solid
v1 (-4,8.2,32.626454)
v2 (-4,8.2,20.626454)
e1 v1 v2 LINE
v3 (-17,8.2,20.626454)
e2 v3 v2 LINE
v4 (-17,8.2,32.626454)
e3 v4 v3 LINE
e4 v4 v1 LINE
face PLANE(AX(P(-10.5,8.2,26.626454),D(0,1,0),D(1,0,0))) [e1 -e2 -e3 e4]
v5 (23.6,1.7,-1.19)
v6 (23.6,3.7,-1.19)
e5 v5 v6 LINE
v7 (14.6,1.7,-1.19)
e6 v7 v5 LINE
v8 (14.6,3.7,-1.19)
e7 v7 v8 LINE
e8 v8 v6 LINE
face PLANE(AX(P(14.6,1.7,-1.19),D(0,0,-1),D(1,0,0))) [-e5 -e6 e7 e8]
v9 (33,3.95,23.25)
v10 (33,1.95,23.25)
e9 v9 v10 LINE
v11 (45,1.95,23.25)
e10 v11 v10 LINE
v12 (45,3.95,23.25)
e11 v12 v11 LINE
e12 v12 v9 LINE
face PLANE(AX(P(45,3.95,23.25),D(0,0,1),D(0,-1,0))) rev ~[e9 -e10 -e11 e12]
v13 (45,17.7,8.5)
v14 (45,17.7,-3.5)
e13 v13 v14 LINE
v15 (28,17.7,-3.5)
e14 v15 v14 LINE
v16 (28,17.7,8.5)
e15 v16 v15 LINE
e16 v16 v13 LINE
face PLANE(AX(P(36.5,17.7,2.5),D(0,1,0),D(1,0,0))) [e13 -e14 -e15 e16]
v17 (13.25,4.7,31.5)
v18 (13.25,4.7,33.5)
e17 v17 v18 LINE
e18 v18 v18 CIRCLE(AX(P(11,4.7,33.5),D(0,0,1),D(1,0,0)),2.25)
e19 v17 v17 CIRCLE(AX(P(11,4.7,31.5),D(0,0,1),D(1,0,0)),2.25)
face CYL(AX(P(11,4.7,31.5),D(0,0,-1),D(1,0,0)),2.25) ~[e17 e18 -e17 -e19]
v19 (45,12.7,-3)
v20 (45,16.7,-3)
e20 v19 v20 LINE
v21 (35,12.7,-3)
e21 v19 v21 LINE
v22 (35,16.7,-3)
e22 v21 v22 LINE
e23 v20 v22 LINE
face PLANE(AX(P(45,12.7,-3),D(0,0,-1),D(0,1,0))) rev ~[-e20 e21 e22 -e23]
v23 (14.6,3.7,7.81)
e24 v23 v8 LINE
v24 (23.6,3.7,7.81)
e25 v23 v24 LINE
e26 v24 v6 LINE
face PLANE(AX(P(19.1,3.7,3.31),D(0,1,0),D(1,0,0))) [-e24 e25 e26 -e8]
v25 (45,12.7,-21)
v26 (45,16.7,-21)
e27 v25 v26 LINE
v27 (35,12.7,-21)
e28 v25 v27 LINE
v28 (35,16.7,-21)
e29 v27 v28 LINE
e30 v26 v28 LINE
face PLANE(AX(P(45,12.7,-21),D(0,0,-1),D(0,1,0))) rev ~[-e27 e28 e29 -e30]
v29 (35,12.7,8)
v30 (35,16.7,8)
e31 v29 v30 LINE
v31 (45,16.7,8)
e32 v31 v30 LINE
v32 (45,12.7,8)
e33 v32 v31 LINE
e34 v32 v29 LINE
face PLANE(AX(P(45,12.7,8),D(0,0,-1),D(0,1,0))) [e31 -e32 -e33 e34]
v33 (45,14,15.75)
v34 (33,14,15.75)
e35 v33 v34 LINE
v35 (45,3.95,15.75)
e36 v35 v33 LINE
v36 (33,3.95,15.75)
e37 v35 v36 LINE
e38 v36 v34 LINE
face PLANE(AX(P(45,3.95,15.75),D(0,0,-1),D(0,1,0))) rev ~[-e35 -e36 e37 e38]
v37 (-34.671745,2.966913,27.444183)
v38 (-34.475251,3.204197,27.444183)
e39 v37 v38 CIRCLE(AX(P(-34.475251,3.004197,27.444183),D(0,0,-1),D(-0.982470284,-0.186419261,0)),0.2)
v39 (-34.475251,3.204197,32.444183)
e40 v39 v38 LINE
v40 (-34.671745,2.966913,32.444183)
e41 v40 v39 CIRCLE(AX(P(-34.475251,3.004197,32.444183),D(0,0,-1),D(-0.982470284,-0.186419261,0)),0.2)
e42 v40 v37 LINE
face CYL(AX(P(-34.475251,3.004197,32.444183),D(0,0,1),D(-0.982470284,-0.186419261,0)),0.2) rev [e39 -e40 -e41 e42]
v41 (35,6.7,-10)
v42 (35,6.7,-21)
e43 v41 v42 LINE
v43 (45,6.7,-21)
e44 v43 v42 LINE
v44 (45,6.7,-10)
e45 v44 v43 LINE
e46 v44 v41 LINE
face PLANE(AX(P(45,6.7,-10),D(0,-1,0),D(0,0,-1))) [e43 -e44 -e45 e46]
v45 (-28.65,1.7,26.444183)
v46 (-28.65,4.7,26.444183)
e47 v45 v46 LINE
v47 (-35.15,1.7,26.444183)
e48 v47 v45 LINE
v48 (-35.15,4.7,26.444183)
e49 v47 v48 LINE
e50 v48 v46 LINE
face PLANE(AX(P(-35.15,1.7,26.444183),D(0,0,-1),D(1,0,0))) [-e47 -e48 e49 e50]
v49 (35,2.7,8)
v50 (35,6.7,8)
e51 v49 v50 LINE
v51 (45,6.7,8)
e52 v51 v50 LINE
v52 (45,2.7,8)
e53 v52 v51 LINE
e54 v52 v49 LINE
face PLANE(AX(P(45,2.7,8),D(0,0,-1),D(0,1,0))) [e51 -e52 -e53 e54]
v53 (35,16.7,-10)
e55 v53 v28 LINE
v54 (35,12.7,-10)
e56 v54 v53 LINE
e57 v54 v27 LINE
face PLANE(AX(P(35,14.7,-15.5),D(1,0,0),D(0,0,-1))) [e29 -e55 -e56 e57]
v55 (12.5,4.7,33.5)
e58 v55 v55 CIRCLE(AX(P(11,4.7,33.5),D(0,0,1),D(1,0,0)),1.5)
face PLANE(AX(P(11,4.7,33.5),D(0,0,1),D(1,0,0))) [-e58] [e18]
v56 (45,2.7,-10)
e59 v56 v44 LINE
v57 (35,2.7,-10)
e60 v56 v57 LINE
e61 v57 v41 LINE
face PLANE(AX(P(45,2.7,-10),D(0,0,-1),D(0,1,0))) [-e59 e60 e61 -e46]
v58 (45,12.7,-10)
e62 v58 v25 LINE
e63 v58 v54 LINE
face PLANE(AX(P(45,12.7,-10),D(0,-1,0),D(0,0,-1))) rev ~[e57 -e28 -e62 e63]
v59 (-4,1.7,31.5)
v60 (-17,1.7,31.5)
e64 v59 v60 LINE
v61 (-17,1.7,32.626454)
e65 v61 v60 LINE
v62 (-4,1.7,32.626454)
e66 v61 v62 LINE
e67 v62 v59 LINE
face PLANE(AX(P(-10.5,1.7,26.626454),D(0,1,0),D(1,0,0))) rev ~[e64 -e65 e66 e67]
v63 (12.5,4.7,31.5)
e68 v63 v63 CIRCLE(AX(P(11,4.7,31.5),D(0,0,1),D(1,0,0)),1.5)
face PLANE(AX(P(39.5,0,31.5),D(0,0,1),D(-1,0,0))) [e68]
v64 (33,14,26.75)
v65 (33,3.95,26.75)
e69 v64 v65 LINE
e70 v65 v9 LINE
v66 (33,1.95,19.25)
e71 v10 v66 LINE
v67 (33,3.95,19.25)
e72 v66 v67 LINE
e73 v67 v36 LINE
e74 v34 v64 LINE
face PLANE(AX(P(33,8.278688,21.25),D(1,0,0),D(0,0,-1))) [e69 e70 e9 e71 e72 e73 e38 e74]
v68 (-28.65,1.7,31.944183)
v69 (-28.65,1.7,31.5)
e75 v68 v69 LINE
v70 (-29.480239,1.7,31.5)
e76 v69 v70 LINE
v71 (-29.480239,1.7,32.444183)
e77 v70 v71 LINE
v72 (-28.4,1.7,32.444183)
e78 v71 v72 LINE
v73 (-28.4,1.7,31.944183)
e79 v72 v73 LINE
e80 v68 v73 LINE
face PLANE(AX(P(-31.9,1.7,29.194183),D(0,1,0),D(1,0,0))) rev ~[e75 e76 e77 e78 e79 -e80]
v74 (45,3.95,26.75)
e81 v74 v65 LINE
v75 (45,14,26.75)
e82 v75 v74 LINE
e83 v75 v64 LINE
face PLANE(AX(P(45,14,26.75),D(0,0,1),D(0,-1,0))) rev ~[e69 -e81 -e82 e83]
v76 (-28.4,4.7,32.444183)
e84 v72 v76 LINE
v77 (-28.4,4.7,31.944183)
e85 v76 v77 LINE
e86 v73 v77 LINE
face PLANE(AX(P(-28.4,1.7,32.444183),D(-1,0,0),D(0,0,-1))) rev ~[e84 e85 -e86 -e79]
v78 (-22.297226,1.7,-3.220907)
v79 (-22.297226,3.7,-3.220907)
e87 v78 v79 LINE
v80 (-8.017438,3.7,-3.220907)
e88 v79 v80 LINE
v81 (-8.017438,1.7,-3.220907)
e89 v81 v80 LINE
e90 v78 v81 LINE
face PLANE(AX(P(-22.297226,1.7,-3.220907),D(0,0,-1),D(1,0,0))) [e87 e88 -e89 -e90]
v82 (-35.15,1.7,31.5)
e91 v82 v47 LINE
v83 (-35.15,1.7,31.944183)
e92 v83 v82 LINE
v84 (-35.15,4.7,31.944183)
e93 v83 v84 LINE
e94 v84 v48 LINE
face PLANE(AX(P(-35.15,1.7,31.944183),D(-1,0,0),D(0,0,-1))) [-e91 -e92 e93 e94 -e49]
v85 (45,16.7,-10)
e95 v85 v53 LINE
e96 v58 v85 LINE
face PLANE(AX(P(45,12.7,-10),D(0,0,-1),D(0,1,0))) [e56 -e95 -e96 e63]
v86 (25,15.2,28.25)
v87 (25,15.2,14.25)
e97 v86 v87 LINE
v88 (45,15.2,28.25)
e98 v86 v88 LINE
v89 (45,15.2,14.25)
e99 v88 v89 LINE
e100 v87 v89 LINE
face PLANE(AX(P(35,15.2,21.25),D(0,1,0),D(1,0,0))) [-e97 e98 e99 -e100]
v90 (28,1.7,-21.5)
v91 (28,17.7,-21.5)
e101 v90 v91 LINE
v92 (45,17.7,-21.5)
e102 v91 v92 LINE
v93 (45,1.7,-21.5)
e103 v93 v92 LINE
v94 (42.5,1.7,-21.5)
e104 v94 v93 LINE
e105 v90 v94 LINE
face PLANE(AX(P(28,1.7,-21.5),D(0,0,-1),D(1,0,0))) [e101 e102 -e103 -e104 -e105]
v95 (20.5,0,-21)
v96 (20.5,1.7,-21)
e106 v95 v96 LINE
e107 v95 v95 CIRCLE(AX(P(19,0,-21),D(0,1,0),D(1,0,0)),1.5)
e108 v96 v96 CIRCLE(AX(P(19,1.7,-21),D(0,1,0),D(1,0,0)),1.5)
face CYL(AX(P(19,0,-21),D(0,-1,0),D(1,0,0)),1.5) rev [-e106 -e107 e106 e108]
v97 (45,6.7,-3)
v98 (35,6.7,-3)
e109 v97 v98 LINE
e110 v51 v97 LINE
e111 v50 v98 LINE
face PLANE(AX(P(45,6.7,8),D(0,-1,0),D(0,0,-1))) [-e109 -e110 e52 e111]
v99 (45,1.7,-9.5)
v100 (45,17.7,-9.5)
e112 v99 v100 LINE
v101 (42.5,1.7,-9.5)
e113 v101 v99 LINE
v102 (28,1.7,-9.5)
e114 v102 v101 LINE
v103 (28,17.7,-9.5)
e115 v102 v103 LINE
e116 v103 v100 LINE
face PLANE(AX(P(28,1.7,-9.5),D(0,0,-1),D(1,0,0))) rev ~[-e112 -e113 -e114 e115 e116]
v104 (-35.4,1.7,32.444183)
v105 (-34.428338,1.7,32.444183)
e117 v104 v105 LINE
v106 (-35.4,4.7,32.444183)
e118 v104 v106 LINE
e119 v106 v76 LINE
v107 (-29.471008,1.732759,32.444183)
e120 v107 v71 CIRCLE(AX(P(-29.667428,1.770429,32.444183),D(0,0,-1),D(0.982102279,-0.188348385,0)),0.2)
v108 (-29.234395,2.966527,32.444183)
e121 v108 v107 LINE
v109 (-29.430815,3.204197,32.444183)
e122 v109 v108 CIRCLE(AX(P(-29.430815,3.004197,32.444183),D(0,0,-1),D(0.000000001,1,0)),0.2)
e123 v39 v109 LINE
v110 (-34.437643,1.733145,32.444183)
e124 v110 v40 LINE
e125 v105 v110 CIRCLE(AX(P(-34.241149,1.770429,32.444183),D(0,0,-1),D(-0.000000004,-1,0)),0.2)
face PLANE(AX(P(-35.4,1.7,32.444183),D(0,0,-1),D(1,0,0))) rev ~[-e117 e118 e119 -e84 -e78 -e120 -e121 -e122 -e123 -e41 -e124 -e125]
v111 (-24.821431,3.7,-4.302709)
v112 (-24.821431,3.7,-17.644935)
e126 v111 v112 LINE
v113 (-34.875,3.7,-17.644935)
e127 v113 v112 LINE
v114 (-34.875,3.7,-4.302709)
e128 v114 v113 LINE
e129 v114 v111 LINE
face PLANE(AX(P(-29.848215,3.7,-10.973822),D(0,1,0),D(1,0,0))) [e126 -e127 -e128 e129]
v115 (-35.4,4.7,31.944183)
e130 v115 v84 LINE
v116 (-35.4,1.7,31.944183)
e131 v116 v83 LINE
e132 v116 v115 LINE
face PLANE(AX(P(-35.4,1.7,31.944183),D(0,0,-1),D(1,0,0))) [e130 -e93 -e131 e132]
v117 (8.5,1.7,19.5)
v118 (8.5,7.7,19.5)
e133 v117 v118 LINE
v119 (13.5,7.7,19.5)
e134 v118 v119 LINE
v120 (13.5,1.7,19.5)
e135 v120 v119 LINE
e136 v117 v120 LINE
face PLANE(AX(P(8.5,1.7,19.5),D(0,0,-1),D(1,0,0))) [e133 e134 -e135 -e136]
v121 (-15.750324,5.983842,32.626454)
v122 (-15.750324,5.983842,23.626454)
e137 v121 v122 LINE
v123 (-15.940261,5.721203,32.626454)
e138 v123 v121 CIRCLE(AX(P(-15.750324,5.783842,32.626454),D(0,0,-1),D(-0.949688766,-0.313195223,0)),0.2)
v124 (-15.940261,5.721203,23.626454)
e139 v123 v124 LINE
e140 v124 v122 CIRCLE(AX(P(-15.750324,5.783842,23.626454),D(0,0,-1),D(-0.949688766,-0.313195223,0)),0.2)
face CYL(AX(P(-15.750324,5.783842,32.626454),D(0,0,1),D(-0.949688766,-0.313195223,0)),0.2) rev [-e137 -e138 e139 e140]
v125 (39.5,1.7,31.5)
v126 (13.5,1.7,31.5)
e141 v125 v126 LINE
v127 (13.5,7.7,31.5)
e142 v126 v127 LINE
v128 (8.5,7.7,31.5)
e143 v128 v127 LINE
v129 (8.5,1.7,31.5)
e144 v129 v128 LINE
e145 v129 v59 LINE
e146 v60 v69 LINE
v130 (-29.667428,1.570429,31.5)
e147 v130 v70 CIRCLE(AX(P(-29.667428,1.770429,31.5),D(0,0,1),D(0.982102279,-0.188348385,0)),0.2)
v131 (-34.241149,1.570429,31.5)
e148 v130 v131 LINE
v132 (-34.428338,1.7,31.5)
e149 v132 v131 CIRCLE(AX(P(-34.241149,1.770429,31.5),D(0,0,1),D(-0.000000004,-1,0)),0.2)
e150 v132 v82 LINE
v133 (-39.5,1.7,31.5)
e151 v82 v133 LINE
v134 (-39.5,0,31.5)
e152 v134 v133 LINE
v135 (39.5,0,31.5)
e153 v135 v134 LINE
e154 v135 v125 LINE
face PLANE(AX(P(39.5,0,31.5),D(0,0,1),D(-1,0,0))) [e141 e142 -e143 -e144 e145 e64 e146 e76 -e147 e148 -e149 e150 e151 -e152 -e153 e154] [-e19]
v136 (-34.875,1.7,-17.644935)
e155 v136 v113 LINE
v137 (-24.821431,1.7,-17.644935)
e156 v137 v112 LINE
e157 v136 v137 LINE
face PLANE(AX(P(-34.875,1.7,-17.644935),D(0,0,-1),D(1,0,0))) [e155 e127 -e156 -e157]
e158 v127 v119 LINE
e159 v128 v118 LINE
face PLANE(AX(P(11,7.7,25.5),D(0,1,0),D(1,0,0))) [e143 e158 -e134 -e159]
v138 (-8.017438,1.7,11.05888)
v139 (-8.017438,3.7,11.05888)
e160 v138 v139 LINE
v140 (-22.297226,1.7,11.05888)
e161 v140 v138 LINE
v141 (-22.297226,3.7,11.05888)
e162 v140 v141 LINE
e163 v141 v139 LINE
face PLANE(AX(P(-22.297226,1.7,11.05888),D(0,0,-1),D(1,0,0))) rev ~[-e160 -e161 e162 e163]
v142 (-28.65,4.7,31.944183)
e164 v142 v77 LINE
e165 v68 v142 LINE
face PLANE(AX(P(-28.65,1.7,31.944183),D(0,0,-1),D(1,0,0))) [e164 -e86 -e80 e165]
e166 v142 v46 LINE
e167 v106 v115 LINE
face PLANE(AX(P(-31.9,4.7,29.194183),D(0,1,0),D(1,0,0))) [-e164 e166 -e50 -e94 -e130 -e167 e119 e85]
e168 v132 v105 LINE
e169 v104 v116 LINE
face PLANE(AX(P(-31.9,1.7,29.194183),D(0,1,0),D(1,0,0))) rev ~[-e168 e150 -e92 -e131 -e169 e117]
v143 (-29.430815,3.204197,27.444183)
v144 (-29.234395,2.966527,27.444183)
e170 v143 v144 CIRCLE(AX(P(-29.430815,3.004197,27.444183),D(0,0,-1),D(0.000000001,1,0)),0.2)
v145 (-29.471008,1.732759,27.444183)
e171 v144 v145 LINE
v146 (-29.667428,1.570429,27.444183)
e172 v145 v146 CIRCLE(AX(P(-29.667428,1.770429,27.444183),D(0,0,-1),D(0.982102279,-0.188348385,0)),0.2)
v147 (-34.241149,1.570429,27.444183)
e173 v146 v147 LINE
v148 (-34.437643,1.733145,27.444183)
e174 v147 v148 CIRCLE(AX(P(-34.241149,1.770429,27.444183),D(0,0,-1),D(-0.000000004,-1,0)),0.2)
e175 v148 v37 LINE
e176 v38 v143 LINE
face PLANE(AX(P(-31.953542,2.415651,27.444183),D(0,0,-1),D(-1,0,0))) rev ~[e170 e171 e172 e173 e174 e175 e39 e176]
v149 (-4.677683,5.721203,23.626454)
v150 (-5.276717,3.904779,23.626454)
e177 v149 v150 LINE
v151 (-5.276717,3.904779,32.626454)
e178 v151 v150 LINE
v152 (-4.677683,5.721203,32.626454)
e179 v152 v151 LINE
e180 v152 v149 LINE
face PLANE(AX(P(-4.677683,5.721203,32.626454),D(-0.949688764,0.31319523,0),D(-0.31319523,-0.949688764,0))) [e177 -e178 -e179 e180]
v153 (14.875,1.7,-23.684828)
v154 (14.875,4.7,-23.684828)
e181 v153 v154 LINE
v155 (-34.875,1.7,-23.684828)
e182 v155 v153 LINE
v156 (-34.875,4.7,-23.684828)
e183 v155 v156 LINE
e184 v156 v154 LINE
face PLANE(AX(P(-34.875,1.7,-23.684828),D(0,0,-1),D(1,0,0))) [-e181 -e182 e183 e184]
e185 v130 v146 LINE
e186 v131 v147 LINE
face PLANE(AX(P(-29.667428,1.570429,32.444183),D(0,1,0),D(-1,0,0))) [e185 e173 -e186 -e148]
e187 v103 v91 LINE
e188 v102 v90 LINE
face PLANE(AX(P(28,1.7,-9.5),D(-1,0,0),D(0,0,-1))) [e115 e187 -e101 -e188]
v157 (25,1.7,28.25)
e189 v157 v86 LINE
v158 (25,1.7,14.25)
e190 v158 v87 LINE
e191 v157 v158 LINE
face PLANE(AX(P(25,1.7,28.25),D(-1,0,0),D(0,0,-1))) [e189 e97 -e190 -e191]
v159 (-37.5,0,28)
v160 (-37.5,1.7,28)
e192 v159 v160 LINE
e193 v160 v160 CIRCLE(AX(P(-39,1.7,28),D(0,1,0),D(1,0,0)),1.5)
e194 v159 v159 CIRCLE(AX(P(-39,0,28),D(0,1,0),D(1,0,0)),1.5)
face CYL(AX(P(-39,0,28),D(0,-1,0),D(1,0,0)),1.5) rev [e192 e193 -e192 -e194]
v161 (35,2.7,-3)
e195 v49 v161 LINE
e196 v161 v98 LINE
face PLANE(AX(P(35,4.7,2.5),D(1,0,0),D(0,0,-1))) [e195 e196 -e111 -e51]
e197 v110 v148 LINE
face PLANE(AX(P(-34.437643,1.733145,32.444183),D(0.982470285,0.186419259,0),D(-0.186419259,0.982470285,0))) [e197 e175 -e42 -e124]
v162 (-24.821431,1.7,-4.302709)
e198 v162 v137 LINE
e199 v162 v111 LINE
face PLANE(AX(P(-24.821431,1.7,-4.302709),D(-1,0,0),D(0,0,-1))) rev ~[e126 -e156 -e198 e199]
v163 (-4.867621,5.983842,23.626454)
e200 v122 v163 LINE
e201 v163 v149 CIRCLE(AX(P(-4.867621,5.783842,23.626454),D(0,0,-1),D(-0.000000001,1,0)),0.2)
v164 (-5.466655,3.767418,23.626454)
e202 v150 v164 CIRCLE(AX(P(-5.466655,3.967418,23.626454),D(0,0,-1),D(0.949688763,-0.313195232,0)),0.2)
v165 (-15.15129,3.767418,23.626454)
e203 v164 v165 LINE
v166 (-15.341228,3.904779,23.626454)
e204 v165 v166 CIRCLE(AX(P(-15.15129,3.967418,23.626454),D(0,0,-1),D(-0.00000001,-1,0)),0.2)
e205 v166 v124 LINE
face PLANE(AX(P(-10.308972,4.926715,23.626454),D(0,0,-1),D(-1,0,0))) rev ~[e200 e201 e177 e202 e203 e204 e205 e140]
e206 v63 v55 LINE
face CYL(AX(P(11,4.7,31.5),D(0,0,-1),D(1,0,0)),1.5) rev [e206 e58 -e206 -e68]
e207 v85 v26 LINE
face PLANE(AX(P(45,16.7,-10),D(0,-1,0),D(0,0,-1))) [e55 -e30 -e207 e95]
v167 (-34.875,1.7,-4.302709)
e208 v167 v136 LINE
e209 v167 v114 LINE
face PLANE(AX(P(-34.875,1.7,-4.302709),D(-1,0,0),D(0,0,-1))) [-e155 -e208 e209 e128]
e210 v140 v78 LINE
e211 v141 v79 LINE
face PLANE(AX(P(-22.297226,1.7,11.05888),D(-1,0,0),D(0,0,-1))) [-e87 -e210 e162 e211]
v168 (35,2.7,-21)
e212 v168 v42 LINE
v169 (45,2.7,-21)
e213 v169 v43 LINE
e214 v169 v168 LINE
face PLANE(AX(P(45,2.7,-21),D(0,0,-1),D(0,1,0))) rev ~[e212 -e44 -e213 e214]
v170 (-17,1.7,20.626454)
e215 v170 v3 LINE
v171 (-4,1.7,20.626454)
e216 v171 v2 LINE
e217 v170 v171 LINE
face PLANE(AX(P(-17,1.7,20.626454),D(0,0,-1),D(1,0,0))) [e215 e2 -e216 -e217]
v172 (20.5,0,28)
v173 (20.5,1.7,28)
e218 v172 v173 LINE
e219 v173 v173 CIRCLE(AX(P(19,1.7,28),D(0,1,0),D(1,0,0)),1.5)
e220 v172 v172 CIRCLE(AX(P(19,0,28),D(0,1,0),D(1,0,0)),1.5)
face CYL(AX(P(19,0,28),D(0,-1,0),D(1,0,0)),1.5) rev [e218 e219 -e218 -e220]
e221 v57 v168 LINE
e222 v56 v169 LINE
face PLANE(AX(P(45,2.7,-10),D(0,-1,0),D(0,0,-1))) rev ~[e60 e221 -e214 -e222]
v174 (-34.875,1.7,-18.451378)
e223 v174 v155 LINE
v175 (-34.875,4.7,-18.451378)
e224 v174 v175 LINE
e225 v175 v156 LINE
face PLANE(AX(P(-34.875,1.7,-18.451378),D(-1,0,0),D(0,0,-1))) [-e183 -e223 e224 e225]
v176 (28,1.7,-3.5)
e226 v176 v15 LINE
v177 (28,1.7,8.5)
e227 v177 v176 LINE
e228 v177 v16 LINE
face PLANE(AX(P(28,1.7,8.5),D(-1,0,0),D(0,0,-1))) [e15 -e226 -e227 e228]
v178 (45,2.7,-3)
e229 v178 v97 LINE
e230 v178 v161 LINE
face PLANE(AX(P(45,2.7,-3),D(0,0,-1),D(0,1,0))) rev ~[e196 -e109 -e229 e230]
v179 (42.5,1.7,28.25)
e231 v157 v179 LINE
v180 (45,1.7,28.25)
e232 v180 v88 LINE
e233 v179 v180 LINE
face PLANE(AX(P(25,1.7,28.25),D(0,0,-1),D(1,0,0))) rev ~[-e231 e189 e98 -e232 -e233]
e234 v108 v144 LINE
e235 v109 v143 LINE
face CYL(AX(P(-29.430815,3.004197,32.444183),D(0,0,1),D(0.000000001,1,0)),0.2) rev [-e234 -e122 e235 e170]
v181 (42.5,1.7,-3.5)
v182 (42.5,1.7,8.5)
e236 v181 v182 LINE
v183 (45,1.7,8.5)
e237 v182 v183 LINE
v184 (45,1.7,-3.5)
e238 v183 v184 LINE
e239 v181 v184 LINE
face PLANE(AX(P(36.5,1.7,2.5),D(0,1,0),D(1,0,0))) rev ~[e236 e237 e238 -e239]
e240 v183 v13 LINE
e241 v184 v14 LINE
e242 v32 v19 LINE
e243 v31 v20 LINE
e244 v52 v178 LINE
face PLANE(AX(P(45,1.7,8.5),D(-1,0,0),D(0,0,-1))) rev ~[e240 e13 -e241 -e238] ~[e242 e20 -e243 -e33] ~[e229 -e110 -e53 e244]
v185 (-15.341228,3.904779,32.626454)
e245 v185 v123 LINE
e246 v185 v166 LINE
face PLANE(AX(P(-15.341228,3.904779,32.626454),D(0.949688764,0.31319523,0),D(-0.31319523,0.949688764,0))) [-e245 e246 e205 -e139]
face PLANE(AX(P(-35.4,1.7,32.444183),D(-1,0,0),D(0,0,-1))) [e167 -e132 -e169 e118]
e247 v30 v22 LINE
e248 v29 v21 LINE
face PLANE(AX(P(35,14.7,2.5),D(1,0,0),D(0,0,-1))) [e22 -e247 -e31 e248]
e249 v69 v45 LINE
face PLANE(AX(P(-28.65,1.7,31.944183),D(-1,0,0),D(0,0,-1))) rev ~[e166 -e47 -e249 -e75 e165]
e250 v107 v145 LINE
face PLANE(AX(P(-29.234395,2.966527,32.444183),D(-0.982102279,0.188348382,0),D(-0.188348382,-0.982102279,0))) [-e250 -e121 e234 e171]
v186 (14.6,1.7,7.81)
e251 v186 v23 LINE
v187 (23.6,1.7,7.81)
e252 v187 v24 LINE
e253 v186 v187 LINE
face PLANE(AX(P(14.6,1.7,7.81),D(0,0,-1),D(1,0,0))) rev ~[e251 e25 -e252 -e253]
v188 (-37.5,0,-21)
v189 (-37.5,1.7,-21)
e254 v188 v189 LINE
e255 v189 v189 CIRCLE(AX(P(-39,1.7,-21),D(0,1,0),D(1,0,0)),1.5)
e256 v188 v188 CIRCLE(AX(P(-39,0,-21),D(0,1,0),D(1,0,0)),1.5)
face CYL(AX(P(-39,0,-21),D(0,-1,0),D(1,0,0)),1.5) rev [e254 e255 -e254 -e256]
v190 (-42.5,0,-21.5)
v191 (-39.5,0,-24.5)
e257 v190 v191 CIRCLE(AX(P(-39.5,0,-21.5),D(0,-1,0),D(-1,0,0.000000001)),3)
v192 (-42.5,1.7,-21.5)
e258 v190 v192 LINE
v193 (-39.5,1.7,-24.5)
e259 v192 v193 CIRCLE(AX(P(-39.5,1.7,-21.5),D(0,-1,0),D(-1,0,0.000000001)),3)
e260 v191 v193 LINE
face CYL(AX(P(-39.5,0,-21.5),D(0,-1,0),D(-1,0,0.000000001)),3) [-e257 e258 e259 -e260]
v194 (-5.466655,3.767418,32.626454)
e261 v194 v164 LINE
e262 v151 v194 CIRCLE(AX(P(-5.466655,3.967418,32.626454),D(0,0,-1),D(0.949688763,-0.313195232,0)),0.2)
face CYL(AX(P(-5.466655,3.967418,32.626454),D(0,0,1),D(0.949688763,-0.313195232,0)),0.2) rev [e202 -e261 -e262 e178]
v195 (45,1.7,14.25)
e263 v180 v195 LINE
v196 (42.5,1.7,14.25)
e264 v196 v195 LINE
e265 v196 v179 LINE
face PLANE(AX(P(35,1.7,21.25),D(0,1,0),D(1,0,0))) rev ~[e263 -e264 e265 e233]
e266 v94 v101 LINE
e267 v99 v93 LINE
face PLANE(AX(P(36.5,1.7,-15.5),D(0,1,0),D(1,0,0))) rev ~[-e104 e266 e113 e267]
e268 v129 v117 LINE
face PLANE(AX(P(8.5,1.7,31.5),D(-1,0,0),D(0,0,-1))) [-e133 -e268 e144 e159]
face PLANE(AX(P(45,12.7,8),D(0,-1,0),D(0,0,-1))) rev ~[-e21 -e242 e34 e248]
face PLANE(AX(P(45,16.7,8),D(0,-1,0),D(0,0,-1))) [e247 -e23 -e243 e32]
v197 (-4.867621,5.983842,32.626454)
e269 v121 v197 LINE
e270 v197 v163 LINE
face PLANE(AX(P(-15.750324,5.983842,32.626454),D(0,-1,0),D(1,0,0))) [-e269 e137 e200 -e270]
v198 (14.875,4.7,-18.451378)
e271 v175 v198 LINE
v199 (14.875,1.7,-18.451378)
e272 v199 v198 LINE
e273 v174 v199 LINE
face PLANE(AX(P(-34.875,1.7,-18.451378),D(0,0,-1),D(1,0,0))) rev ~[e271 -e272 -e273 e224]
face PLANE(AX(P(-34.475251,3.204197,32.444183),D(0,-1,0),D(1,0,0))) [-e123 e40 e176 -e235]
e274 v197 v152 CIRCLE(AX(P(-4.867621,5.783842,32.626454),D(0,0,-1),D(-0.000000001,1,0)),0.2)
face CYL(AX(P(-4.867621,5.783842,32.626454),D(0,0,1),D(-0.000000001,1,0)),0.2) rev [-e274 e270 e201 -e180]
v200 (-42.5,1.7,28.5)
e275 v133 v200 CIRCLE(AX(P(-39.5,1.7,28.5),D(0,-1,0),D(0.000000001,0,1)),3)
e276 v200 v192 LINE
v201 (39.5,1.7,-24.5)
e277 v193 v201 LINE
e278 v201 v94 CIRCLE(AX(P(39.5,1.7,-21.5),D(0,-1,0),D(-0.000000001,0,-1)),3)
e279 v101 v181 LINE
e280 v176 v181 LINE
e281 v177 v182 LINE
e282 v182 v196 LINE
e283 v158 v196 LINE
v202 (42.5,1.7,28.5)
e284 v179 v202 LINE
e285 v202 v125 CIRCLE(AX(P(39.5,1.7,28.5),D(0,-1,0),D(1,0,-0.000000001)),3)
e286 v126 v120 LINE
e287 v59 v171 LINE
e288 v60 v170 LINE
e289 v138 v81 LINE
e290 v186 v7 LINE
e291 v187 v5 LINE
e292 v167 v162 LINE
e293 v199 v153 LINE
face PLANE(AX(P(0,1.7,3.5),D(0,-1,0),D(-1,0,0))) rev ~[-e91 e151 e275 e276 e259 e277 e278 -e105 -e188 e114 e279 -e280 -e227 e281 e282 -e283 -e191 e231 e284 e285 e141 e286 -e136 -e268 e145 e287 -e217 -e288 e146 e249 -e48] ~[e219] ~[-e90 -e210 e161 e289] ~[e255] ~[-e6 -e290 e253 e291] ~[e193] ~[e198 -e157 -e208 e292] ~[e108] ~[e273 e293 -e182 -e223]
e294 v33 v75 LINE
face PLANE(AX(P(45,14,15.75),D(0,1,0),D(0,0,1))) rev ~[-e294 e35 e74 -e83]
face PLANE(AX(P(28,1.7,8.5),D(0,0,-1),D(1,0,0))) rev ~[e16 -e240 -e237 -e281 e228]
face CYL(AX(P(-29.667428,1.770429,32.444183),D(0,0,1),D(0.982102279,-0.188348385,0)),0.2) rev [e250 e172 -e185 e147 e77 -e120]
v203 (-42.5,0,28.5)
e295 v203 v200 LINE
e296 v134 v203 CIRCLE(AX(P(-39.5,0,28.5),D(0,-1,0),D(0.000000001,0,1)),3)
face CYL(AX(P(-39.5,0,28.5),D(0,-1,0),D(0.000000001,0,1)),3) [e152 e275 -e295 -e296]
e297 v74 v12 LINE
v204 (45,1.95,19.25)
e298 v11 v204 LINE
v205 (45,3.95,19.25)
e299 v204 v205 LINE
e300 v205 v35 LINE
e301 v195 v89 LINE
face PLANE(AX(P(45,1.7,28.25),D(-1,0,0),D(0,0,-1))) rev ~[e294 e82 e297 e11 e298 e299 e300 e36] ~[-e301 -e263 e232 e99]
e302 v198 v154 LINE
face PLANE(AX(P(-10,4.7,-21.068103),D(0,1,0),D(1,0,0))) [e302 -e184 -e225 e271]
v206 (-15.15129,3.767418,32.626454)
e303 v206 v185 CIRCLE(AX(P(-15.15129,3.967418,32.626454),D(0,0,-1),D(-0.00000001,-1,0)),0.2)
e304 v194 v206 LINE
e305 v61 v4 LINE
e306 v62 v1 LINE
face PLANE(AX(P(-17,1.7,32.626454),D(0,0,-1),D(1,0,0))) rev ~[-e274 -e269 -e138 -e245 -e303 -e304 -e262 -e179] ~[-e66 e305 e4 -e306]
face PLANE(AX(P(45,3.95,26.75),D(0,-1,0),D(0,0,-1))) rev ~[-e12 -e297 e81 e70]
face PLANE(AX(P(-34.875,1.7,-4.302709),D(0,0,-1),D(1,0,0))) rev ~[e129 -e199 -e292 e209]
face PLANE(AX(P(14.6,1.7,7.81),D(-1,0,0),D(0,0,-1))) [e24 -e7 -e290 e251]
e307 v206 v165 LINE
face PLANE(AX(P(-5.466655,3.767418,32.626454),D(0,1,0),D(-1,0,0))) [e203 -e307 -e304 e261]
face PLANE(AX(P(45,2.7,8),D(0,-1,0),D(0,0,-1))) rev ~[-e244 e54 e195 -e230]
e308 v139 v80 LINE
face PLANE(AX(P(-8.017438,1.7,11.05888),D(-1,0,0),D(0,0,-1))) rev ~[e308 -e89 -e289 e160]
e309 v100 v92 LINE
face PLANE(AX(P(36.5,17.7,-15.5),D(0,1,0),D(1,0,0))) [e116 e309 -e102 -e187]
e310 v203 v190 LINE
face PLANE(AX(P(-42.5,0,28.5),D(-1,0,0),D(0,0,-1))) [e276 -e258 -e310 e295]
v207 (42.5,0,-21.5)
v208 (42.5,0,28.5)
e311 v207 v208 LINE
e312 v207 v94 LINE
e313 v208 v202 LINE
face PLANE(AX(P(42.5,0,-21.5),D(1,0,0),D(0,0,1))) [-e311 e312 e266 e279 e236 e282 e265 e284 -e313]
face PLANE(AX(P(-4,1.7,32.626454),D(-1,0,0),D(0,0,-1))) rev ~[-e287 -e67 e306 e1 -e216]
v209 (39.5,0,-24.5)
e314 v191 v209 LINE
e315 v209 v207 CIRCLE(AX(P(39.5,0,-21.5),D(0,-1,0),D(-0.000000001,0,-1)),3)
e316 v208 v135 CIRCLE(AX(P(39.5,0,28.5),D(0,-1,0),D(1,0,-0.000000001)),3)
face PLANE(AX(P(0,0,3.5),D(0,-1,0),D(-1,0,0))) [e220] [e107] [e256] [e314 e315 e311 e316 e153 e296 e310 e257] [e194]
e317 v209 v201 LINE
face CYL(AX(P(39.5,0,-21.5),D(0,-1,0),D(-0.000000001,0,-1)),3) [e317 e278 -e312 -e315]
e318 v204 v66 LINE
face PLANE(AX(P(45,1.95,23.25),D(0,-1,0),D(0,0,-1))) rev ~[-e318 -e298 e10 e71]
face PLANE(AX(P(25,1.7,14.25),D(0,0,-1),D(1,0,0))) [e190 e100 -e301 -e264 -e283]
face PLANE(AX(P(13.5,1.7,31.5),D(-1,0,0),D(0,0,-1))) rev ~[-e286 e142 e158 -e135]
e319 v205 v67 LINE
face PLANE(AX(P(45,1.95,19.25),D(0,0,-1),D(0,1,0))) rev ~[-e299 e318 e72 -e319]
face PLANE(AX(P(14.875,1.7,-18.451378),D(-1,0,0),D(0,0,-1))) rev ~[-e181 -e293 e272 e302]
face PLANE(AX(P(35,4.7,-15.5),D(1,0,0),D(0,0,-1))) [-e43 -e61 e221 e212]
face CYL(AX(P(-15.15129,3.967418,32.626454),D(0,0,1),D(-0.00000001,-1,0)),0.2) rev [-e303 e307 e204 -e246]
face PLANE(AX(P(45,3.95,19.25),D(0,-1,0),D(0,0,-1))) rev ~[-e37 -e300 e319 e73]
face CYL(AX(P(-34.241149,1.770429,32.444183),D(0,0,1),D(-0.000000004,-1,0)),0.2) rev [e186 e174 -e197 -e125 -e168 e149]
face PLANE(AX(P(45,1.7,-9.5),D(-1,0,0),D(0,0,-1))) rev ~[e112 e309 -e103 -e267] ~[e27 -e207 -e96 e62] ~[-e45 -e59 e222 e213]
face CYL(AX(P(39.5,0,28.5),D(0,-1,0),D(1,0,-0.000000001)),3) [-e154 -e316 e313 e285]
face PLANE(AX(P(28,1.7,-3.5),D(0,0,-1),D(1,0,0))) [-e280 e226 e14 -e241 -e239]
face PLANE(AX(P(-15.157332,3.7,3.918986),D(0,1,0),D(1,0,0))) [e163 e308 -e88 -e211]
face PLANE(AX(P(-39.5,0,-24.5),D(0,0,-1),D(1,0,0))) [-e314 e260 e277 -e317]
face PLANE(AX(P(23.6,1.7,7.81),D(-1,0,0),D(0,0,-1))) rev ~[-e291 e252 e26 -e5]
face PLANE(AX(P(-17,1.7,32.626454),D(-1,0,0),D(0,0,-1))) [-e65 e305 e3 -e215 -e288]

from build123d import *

# Parameters (mm, degrees)
SKETCH1_R            = 3
SKETCH1_R_2          = 1.5
BOSS_EXTRUDE1_DEPTH  = 1.7
SKETCH4_W            = 49.75
SKETCH4_H            = 5.233449475
BOSS_EXTRUDE4_DEPTH  = 3
SKETCH7_W            = 6.5
SKETCH7_H            = 5.5
SKETCH7_W_2          = 7
SKETCH7_H_2          = 0.5
BOSS_EXTRUDE7_DEPTH  = 3
SKETCH8_W            = 13
SKETCH8_H            = 12
BOSS_EXTRUDE8_DEPTH  = 6.5
SKETCH9_W            = 5
SKETCH9_H            = 12
BOSS_EXTRUDE9_DEPTH  = 6
SKETCH10_W           = 20
SKETCH10_H           = 14
BOSS_EXTRUDE10_DEPTH = 13.5
SKETCH11_W           = 17
SKETCH11_H           = 12
BOSS_EXTRUDE11_DEPTH = 16
SKETCH12_W           = 10.053569384
SKETCH12_H           = 13.342225903
SKETCH12_W_2         = 14.279787724
SKETCH12_H_2         = 14.279787724
SKETCH12_W_3         = 9
SKETCH12_H_3         = 9
BOSS_EXTRUDE12_DEPTH = 2
SKETCH13_R           = 2.25
SKETCH13_R_2         = 1.5
BOSS_EXTRUDE13_DEPTH = 2
CUT_EXTRUDE1_DEPTH   = 9
CUT_EXTRUDE2_DEPTH   = 5
SKETCH16_W           = 11
SKETCH16_H           = 4
CUT_EXTRUDE3_DEPTH   = 10
SKETCH17_W           = 11
SKETCH17_H           = 4
CUT_EXTRUDE4_DEPTH   = 10
CUT_EXTRUDE5_DEPTH   = 12


with BuildPart() as part:
    # Sketch1 → Boss-Extrude1 (new body)
    with BuildSketch(Plane(origin=(0, 0, 0), x_dir=(1, 0, 0), z_dir=(0, 1, 0))):
        with BuildLine():
            ThreePointArc((39.5, 24.5), (41.621320344, 23.621320344), (42.5, 21.5))
            Line((42.5, 21.5), (42.5, -28.5))
            ThreePointArc((42.5, -28.5), (41.621320344, -30.621320344), (39.5, -31.5))
            Line((39.5, -31.5), (-39.5, -31.5))
            ThreePointArc((-39.5, -31.5), (-41.621320344, -30.621320344), (-42.5, -28.5))
            Line((-42.5, -28.5), (-42.5, 21.5))
            ThreePointArc((-42.5, 21.5), (-41.621320344, 23.621320344), (-39.5, 24.5))
            Line((-39.5, 24.5), (39.5, 24.5))
        make_face()
        with Locations((19, -28)):
            Circle(SKETCH1_R, mode=Mode.SUBTRACT)
        with Locations((19, 21)):
            Circle(SKETCH1_R, mode=Mode.SUBTRACT)
        with Locations((-39, -28)):
            Circle(SKETCH1_R, mode=Mode.SUBTRACT)
        with Locations((-39, 21)):
            Circle(SKETCH1_R, mode=Mode.SUBTRACT)
        with Locations((19, 21)):
            Circle(SKETCH1_R)
        with Locations((19, 21)):
            Circle(SKETCH1_R_2, mode=Mode.SUBTRACT)
        with Locations((-39, 21)):
            Circle(SKETCH1_R)
        with Locations((-39, 21)):
            Circle(SKETCH1_R_2, mode=Mode.SUBTRACT)
        with Locations((-39, -28)):
            Circle(SKETCH1_R)
        with Locations((-39, -28)):
            Circle(SKETCH1_R_2, mode=Mode.SUBTRACT)
        with Locations((19, -28)):
            Circle(SKETCH1_R)
        with Locations((19, -28)):
            Circle(SKETCH1_R_2, mode=Mode.SUBTRACT)
    extrude(amount=BOSS_EXTRUDE1_DEPTH)

    # Sketch4 → Boss-Extrude4 (add)
    with BuildSketch(Plane(origin=(0, 1.7, 0), x_dir=(1, 0, 0), z_dir=(0, 1, 0))):
        with Locations((-10, 21.068102783)):
            Rectangle(SKETCH4_W, SKETCH4_H)
    extrude(amount=BOSS_EXTRUDE4_DEPTH)

    # Sketch7 → Boss-Extrude7 (add)
    with BuildSketch(Plane(origin=(0, 1.7, 0), x_dir=(1, 0, 0), z_dir=(0, 1, 0))):
        with Locations((-31.9, -29.194183223)):
            Rectangle(SKETCH7_W, SKETCH7_H)
        with Locations((-31.9, -32.194183223)):
            Rectangle(SKETCH7_W_2, SKETCH7_H_2)
    extrude(amount=BOSS_EXTRUDE7_DEPTH)

    # Sketch8 → Boss-Extrude8 (add)
    with BuildSketch(Plane(origin=(0, 1.7, 0), x_dir=(1, 0, 0), z_dir=(0, 1, 0))):
        with Locations((-10.5, -26.626453528)):
            Rectangle(SKETCH8_W, SKETCH8_H)
    extrude(amount=BOSS_EXTRUDE8_DEPTH)

    # Sketch9 → Boss-Extrude9 (add)
    with BuildSketch(Plane(origin=(0, 1.7, 0), x_dir=(1, 0, 0), z_dir=(0, 1, 0))):
        with Locations((11, -25.5)):
            Rectangle(SKETCH9_W, SKETCH9_H)
    extrude(amount=BOSS_EXTRUDE9_DEPTH)

    # Sketch10 → Boss-Extrude10 (add)
    with BuildSketch(Plane(origin=(0, 1.7, 0), x_dir=(1, 0, 0), z_dir=(0, 1, 0))):
        with Locations((35, -21.25)):
            Rectangle(SKETCH10_W, SKETCH10_H)
    extrude(amount=BOSS_EXTRUDE10_DEPTH)

    # Sketch11 → Boss-Extrude11 (add)
    with BuildSketch(Plane(origin=(0, 1.7, 0), x_dir=(1, 0, 0), z_dir=(0, 1, 0))):
        with Locations((36.5, -2.5)):
            Rectangle(SKETCH11_W, SKETCH11_H)
        with Locations((36.5, 15.5)):
            Rectangle(SKETCH11_W, SKETCH11_H)
    extrude(amount=BOSS_EXTRUDE11_DEPTH)

    # Sketch12 → Boss-Extrude12 (add)
    with BuildSketch(Plane(origin=(0, 1.7, 0), x_dir=(1, 0, 0), z_dir=(0, 1, 0))):
        with Locations((-29.848215308, 10.97382243)):
            Rectangle(SKETCH12_W, SKETCH12_H)
        with Locations((-15.157331854, -3.918986484)):
            Rectangle(SKETCH12_W_2, SKETCH12_H_2)
        with Locations((19.1, -3.31)):
            Rectangle(SKETCH12_W_3, SKETCH12_H_3)
    extrude(amount=BOSS_EXTRUDE12_DEPTH)

    # Sketch13 → Boss-Extrude13 (add)
    with BuildSketch(Plane.XY.offset(31.5)):
        with Locations((11, 4.7)):
            Circle(SKETCH13_R)
        with Locations((11, 4.7)):
            Circle(SKETCH13_R_2, mode=Mode.SUBTRACT)
    extrude(amount=BOSS_EXTRUDE13_DEPTH)

    # Sketch14 → Cut-Extrude1 (cut)
    with BuildSketch(Plane.XY.offset(32.626453528)):
        with BuildLine():
            Line((-15.750323675, 5.983842352), (-4.86762122, 5.983842352))
            ThreePointArc((-4.86762122, 5.983842352), (-4.705559797, 5.901043441), (-4.677683467, 5.721203306))
            Line((-4.677683467, 5.721203306), (-5.276717124, 3.904778668))
            ThreePointArc((-5.276717124, 3.904778668), (-5.349453787, 3.805356292), (-5.466654877, 3.767417714))
            Line((-5.466654877, 3.767417714), (-15.151290018, 3.767417714))
            ThreePointArc((-15.151290018, 3.767417714), (-15.268491107, 3.805356292), (-15.341227771, 3.904778668))
            Line((-15.341227771, 3.904778668), (-15.940261428, 5.721203306))
            ThreePointArc((-15.940261428, 5.721203306), (-15.912385097, 5.901043441), (-15.750323675, 5.983842352))
        make_face()
    extrude(amount=-CUT_EXTRUDE1_DEPTH, mode=Mode.SUBTRACT)

    # Sketch15 → Cut-Extrude2 (cut)
    with BuildSketch(Plane.XY.offset(32.444183223)):
        with BuildLine():
            Line((-34.475250903, 3.20419671), (-29.43081526, 3.20419671))
            ThreePointArc((-29.43081526, 3.20419671), (-29.27664987, 3.131605628), (-29.234394805, 2.966527034))
            Line((-29.234394805, 2.966527034), (-29.471007813, 1.732759202))
            ThreePointArc((-29.471007813, 1.732759202), (-29.540019351, 1.616263488), (-29.667428269, 1.570428878))
            Line((-29.667428269, 1.570428878), (-34.24114908, 1.570428878))
            ThreePointArc((-34.24114908, 1.570428878), (-34.36870932, 1.616388672), (-34.437643137, 1.733145027))
            Line((-34.437643137, 1.733145027), (-34.67174496, 2.966912859))
            ThreePointArc((-34.67174496, 2.966912859), (-34.62929111, 3.13175695), (-34.475250903, 3.20419671))
        make_face()
    extrude(amount=-CUT_EXTRUDE2_DEPTH, mode=Mode.SUBTRACT)

    # Sketch16 → Cut-Extrude3 (cut)
    with BuildSketch(Plane(origin=(45, 0, 0), x_dir=(0, 0, -1), z_dir=(1, 0, 0))):
        with Locations((-2.5, 4.7)):
            Rectangle(SKETCH16_W, SKETCH16_H)
        with Locations((-2.5, 14.7)):
            Rectangle(SKETCH16_W, SKETCH16_H)
    extrude(amount=-CUT_EXTRUDE3_DEPTH, mode=Mode.SUBTRACT)

    # Sketch17 → Cut-Extrude4 (cut)
    with BuildSketch(Plane(origin=(45, 0, 0), x_dir=(0, 0, -1), z_dir=(1, 0, 0))):
        with Locations((15.5, 14.7)):
            Rectangle(SKETCH17_W, SKETCH17_H)
        with Locations((15.5, 4.7)):
            Rectangle(SKETCH17_W, SKETCH17_H)
    extrude(amount=-CUT_EXTRUDE4_DEPTH, mode=Mode.SUBTRACT)

    # Sketch18 → Cut-Extrude5 (cut)
    with BuildSketch(Plane(origin=(45, 0, 0), x_dir=(0, 0, -1), z_dir=(1, 0, 0))):
        Polygon((-26.75, 14), (-26.75, 3.95), (-23.25, 3.95), (-23.25, 1.95), (-19.25, 1.95), (-19.25, 3.95), (-15.75, 3.95), (-15.75, 14), align=None)
    extrude(amount=-CUT_EXTRUDE5_DEPTH, mode=Mode.SUBTRACT)


solid = part.part
